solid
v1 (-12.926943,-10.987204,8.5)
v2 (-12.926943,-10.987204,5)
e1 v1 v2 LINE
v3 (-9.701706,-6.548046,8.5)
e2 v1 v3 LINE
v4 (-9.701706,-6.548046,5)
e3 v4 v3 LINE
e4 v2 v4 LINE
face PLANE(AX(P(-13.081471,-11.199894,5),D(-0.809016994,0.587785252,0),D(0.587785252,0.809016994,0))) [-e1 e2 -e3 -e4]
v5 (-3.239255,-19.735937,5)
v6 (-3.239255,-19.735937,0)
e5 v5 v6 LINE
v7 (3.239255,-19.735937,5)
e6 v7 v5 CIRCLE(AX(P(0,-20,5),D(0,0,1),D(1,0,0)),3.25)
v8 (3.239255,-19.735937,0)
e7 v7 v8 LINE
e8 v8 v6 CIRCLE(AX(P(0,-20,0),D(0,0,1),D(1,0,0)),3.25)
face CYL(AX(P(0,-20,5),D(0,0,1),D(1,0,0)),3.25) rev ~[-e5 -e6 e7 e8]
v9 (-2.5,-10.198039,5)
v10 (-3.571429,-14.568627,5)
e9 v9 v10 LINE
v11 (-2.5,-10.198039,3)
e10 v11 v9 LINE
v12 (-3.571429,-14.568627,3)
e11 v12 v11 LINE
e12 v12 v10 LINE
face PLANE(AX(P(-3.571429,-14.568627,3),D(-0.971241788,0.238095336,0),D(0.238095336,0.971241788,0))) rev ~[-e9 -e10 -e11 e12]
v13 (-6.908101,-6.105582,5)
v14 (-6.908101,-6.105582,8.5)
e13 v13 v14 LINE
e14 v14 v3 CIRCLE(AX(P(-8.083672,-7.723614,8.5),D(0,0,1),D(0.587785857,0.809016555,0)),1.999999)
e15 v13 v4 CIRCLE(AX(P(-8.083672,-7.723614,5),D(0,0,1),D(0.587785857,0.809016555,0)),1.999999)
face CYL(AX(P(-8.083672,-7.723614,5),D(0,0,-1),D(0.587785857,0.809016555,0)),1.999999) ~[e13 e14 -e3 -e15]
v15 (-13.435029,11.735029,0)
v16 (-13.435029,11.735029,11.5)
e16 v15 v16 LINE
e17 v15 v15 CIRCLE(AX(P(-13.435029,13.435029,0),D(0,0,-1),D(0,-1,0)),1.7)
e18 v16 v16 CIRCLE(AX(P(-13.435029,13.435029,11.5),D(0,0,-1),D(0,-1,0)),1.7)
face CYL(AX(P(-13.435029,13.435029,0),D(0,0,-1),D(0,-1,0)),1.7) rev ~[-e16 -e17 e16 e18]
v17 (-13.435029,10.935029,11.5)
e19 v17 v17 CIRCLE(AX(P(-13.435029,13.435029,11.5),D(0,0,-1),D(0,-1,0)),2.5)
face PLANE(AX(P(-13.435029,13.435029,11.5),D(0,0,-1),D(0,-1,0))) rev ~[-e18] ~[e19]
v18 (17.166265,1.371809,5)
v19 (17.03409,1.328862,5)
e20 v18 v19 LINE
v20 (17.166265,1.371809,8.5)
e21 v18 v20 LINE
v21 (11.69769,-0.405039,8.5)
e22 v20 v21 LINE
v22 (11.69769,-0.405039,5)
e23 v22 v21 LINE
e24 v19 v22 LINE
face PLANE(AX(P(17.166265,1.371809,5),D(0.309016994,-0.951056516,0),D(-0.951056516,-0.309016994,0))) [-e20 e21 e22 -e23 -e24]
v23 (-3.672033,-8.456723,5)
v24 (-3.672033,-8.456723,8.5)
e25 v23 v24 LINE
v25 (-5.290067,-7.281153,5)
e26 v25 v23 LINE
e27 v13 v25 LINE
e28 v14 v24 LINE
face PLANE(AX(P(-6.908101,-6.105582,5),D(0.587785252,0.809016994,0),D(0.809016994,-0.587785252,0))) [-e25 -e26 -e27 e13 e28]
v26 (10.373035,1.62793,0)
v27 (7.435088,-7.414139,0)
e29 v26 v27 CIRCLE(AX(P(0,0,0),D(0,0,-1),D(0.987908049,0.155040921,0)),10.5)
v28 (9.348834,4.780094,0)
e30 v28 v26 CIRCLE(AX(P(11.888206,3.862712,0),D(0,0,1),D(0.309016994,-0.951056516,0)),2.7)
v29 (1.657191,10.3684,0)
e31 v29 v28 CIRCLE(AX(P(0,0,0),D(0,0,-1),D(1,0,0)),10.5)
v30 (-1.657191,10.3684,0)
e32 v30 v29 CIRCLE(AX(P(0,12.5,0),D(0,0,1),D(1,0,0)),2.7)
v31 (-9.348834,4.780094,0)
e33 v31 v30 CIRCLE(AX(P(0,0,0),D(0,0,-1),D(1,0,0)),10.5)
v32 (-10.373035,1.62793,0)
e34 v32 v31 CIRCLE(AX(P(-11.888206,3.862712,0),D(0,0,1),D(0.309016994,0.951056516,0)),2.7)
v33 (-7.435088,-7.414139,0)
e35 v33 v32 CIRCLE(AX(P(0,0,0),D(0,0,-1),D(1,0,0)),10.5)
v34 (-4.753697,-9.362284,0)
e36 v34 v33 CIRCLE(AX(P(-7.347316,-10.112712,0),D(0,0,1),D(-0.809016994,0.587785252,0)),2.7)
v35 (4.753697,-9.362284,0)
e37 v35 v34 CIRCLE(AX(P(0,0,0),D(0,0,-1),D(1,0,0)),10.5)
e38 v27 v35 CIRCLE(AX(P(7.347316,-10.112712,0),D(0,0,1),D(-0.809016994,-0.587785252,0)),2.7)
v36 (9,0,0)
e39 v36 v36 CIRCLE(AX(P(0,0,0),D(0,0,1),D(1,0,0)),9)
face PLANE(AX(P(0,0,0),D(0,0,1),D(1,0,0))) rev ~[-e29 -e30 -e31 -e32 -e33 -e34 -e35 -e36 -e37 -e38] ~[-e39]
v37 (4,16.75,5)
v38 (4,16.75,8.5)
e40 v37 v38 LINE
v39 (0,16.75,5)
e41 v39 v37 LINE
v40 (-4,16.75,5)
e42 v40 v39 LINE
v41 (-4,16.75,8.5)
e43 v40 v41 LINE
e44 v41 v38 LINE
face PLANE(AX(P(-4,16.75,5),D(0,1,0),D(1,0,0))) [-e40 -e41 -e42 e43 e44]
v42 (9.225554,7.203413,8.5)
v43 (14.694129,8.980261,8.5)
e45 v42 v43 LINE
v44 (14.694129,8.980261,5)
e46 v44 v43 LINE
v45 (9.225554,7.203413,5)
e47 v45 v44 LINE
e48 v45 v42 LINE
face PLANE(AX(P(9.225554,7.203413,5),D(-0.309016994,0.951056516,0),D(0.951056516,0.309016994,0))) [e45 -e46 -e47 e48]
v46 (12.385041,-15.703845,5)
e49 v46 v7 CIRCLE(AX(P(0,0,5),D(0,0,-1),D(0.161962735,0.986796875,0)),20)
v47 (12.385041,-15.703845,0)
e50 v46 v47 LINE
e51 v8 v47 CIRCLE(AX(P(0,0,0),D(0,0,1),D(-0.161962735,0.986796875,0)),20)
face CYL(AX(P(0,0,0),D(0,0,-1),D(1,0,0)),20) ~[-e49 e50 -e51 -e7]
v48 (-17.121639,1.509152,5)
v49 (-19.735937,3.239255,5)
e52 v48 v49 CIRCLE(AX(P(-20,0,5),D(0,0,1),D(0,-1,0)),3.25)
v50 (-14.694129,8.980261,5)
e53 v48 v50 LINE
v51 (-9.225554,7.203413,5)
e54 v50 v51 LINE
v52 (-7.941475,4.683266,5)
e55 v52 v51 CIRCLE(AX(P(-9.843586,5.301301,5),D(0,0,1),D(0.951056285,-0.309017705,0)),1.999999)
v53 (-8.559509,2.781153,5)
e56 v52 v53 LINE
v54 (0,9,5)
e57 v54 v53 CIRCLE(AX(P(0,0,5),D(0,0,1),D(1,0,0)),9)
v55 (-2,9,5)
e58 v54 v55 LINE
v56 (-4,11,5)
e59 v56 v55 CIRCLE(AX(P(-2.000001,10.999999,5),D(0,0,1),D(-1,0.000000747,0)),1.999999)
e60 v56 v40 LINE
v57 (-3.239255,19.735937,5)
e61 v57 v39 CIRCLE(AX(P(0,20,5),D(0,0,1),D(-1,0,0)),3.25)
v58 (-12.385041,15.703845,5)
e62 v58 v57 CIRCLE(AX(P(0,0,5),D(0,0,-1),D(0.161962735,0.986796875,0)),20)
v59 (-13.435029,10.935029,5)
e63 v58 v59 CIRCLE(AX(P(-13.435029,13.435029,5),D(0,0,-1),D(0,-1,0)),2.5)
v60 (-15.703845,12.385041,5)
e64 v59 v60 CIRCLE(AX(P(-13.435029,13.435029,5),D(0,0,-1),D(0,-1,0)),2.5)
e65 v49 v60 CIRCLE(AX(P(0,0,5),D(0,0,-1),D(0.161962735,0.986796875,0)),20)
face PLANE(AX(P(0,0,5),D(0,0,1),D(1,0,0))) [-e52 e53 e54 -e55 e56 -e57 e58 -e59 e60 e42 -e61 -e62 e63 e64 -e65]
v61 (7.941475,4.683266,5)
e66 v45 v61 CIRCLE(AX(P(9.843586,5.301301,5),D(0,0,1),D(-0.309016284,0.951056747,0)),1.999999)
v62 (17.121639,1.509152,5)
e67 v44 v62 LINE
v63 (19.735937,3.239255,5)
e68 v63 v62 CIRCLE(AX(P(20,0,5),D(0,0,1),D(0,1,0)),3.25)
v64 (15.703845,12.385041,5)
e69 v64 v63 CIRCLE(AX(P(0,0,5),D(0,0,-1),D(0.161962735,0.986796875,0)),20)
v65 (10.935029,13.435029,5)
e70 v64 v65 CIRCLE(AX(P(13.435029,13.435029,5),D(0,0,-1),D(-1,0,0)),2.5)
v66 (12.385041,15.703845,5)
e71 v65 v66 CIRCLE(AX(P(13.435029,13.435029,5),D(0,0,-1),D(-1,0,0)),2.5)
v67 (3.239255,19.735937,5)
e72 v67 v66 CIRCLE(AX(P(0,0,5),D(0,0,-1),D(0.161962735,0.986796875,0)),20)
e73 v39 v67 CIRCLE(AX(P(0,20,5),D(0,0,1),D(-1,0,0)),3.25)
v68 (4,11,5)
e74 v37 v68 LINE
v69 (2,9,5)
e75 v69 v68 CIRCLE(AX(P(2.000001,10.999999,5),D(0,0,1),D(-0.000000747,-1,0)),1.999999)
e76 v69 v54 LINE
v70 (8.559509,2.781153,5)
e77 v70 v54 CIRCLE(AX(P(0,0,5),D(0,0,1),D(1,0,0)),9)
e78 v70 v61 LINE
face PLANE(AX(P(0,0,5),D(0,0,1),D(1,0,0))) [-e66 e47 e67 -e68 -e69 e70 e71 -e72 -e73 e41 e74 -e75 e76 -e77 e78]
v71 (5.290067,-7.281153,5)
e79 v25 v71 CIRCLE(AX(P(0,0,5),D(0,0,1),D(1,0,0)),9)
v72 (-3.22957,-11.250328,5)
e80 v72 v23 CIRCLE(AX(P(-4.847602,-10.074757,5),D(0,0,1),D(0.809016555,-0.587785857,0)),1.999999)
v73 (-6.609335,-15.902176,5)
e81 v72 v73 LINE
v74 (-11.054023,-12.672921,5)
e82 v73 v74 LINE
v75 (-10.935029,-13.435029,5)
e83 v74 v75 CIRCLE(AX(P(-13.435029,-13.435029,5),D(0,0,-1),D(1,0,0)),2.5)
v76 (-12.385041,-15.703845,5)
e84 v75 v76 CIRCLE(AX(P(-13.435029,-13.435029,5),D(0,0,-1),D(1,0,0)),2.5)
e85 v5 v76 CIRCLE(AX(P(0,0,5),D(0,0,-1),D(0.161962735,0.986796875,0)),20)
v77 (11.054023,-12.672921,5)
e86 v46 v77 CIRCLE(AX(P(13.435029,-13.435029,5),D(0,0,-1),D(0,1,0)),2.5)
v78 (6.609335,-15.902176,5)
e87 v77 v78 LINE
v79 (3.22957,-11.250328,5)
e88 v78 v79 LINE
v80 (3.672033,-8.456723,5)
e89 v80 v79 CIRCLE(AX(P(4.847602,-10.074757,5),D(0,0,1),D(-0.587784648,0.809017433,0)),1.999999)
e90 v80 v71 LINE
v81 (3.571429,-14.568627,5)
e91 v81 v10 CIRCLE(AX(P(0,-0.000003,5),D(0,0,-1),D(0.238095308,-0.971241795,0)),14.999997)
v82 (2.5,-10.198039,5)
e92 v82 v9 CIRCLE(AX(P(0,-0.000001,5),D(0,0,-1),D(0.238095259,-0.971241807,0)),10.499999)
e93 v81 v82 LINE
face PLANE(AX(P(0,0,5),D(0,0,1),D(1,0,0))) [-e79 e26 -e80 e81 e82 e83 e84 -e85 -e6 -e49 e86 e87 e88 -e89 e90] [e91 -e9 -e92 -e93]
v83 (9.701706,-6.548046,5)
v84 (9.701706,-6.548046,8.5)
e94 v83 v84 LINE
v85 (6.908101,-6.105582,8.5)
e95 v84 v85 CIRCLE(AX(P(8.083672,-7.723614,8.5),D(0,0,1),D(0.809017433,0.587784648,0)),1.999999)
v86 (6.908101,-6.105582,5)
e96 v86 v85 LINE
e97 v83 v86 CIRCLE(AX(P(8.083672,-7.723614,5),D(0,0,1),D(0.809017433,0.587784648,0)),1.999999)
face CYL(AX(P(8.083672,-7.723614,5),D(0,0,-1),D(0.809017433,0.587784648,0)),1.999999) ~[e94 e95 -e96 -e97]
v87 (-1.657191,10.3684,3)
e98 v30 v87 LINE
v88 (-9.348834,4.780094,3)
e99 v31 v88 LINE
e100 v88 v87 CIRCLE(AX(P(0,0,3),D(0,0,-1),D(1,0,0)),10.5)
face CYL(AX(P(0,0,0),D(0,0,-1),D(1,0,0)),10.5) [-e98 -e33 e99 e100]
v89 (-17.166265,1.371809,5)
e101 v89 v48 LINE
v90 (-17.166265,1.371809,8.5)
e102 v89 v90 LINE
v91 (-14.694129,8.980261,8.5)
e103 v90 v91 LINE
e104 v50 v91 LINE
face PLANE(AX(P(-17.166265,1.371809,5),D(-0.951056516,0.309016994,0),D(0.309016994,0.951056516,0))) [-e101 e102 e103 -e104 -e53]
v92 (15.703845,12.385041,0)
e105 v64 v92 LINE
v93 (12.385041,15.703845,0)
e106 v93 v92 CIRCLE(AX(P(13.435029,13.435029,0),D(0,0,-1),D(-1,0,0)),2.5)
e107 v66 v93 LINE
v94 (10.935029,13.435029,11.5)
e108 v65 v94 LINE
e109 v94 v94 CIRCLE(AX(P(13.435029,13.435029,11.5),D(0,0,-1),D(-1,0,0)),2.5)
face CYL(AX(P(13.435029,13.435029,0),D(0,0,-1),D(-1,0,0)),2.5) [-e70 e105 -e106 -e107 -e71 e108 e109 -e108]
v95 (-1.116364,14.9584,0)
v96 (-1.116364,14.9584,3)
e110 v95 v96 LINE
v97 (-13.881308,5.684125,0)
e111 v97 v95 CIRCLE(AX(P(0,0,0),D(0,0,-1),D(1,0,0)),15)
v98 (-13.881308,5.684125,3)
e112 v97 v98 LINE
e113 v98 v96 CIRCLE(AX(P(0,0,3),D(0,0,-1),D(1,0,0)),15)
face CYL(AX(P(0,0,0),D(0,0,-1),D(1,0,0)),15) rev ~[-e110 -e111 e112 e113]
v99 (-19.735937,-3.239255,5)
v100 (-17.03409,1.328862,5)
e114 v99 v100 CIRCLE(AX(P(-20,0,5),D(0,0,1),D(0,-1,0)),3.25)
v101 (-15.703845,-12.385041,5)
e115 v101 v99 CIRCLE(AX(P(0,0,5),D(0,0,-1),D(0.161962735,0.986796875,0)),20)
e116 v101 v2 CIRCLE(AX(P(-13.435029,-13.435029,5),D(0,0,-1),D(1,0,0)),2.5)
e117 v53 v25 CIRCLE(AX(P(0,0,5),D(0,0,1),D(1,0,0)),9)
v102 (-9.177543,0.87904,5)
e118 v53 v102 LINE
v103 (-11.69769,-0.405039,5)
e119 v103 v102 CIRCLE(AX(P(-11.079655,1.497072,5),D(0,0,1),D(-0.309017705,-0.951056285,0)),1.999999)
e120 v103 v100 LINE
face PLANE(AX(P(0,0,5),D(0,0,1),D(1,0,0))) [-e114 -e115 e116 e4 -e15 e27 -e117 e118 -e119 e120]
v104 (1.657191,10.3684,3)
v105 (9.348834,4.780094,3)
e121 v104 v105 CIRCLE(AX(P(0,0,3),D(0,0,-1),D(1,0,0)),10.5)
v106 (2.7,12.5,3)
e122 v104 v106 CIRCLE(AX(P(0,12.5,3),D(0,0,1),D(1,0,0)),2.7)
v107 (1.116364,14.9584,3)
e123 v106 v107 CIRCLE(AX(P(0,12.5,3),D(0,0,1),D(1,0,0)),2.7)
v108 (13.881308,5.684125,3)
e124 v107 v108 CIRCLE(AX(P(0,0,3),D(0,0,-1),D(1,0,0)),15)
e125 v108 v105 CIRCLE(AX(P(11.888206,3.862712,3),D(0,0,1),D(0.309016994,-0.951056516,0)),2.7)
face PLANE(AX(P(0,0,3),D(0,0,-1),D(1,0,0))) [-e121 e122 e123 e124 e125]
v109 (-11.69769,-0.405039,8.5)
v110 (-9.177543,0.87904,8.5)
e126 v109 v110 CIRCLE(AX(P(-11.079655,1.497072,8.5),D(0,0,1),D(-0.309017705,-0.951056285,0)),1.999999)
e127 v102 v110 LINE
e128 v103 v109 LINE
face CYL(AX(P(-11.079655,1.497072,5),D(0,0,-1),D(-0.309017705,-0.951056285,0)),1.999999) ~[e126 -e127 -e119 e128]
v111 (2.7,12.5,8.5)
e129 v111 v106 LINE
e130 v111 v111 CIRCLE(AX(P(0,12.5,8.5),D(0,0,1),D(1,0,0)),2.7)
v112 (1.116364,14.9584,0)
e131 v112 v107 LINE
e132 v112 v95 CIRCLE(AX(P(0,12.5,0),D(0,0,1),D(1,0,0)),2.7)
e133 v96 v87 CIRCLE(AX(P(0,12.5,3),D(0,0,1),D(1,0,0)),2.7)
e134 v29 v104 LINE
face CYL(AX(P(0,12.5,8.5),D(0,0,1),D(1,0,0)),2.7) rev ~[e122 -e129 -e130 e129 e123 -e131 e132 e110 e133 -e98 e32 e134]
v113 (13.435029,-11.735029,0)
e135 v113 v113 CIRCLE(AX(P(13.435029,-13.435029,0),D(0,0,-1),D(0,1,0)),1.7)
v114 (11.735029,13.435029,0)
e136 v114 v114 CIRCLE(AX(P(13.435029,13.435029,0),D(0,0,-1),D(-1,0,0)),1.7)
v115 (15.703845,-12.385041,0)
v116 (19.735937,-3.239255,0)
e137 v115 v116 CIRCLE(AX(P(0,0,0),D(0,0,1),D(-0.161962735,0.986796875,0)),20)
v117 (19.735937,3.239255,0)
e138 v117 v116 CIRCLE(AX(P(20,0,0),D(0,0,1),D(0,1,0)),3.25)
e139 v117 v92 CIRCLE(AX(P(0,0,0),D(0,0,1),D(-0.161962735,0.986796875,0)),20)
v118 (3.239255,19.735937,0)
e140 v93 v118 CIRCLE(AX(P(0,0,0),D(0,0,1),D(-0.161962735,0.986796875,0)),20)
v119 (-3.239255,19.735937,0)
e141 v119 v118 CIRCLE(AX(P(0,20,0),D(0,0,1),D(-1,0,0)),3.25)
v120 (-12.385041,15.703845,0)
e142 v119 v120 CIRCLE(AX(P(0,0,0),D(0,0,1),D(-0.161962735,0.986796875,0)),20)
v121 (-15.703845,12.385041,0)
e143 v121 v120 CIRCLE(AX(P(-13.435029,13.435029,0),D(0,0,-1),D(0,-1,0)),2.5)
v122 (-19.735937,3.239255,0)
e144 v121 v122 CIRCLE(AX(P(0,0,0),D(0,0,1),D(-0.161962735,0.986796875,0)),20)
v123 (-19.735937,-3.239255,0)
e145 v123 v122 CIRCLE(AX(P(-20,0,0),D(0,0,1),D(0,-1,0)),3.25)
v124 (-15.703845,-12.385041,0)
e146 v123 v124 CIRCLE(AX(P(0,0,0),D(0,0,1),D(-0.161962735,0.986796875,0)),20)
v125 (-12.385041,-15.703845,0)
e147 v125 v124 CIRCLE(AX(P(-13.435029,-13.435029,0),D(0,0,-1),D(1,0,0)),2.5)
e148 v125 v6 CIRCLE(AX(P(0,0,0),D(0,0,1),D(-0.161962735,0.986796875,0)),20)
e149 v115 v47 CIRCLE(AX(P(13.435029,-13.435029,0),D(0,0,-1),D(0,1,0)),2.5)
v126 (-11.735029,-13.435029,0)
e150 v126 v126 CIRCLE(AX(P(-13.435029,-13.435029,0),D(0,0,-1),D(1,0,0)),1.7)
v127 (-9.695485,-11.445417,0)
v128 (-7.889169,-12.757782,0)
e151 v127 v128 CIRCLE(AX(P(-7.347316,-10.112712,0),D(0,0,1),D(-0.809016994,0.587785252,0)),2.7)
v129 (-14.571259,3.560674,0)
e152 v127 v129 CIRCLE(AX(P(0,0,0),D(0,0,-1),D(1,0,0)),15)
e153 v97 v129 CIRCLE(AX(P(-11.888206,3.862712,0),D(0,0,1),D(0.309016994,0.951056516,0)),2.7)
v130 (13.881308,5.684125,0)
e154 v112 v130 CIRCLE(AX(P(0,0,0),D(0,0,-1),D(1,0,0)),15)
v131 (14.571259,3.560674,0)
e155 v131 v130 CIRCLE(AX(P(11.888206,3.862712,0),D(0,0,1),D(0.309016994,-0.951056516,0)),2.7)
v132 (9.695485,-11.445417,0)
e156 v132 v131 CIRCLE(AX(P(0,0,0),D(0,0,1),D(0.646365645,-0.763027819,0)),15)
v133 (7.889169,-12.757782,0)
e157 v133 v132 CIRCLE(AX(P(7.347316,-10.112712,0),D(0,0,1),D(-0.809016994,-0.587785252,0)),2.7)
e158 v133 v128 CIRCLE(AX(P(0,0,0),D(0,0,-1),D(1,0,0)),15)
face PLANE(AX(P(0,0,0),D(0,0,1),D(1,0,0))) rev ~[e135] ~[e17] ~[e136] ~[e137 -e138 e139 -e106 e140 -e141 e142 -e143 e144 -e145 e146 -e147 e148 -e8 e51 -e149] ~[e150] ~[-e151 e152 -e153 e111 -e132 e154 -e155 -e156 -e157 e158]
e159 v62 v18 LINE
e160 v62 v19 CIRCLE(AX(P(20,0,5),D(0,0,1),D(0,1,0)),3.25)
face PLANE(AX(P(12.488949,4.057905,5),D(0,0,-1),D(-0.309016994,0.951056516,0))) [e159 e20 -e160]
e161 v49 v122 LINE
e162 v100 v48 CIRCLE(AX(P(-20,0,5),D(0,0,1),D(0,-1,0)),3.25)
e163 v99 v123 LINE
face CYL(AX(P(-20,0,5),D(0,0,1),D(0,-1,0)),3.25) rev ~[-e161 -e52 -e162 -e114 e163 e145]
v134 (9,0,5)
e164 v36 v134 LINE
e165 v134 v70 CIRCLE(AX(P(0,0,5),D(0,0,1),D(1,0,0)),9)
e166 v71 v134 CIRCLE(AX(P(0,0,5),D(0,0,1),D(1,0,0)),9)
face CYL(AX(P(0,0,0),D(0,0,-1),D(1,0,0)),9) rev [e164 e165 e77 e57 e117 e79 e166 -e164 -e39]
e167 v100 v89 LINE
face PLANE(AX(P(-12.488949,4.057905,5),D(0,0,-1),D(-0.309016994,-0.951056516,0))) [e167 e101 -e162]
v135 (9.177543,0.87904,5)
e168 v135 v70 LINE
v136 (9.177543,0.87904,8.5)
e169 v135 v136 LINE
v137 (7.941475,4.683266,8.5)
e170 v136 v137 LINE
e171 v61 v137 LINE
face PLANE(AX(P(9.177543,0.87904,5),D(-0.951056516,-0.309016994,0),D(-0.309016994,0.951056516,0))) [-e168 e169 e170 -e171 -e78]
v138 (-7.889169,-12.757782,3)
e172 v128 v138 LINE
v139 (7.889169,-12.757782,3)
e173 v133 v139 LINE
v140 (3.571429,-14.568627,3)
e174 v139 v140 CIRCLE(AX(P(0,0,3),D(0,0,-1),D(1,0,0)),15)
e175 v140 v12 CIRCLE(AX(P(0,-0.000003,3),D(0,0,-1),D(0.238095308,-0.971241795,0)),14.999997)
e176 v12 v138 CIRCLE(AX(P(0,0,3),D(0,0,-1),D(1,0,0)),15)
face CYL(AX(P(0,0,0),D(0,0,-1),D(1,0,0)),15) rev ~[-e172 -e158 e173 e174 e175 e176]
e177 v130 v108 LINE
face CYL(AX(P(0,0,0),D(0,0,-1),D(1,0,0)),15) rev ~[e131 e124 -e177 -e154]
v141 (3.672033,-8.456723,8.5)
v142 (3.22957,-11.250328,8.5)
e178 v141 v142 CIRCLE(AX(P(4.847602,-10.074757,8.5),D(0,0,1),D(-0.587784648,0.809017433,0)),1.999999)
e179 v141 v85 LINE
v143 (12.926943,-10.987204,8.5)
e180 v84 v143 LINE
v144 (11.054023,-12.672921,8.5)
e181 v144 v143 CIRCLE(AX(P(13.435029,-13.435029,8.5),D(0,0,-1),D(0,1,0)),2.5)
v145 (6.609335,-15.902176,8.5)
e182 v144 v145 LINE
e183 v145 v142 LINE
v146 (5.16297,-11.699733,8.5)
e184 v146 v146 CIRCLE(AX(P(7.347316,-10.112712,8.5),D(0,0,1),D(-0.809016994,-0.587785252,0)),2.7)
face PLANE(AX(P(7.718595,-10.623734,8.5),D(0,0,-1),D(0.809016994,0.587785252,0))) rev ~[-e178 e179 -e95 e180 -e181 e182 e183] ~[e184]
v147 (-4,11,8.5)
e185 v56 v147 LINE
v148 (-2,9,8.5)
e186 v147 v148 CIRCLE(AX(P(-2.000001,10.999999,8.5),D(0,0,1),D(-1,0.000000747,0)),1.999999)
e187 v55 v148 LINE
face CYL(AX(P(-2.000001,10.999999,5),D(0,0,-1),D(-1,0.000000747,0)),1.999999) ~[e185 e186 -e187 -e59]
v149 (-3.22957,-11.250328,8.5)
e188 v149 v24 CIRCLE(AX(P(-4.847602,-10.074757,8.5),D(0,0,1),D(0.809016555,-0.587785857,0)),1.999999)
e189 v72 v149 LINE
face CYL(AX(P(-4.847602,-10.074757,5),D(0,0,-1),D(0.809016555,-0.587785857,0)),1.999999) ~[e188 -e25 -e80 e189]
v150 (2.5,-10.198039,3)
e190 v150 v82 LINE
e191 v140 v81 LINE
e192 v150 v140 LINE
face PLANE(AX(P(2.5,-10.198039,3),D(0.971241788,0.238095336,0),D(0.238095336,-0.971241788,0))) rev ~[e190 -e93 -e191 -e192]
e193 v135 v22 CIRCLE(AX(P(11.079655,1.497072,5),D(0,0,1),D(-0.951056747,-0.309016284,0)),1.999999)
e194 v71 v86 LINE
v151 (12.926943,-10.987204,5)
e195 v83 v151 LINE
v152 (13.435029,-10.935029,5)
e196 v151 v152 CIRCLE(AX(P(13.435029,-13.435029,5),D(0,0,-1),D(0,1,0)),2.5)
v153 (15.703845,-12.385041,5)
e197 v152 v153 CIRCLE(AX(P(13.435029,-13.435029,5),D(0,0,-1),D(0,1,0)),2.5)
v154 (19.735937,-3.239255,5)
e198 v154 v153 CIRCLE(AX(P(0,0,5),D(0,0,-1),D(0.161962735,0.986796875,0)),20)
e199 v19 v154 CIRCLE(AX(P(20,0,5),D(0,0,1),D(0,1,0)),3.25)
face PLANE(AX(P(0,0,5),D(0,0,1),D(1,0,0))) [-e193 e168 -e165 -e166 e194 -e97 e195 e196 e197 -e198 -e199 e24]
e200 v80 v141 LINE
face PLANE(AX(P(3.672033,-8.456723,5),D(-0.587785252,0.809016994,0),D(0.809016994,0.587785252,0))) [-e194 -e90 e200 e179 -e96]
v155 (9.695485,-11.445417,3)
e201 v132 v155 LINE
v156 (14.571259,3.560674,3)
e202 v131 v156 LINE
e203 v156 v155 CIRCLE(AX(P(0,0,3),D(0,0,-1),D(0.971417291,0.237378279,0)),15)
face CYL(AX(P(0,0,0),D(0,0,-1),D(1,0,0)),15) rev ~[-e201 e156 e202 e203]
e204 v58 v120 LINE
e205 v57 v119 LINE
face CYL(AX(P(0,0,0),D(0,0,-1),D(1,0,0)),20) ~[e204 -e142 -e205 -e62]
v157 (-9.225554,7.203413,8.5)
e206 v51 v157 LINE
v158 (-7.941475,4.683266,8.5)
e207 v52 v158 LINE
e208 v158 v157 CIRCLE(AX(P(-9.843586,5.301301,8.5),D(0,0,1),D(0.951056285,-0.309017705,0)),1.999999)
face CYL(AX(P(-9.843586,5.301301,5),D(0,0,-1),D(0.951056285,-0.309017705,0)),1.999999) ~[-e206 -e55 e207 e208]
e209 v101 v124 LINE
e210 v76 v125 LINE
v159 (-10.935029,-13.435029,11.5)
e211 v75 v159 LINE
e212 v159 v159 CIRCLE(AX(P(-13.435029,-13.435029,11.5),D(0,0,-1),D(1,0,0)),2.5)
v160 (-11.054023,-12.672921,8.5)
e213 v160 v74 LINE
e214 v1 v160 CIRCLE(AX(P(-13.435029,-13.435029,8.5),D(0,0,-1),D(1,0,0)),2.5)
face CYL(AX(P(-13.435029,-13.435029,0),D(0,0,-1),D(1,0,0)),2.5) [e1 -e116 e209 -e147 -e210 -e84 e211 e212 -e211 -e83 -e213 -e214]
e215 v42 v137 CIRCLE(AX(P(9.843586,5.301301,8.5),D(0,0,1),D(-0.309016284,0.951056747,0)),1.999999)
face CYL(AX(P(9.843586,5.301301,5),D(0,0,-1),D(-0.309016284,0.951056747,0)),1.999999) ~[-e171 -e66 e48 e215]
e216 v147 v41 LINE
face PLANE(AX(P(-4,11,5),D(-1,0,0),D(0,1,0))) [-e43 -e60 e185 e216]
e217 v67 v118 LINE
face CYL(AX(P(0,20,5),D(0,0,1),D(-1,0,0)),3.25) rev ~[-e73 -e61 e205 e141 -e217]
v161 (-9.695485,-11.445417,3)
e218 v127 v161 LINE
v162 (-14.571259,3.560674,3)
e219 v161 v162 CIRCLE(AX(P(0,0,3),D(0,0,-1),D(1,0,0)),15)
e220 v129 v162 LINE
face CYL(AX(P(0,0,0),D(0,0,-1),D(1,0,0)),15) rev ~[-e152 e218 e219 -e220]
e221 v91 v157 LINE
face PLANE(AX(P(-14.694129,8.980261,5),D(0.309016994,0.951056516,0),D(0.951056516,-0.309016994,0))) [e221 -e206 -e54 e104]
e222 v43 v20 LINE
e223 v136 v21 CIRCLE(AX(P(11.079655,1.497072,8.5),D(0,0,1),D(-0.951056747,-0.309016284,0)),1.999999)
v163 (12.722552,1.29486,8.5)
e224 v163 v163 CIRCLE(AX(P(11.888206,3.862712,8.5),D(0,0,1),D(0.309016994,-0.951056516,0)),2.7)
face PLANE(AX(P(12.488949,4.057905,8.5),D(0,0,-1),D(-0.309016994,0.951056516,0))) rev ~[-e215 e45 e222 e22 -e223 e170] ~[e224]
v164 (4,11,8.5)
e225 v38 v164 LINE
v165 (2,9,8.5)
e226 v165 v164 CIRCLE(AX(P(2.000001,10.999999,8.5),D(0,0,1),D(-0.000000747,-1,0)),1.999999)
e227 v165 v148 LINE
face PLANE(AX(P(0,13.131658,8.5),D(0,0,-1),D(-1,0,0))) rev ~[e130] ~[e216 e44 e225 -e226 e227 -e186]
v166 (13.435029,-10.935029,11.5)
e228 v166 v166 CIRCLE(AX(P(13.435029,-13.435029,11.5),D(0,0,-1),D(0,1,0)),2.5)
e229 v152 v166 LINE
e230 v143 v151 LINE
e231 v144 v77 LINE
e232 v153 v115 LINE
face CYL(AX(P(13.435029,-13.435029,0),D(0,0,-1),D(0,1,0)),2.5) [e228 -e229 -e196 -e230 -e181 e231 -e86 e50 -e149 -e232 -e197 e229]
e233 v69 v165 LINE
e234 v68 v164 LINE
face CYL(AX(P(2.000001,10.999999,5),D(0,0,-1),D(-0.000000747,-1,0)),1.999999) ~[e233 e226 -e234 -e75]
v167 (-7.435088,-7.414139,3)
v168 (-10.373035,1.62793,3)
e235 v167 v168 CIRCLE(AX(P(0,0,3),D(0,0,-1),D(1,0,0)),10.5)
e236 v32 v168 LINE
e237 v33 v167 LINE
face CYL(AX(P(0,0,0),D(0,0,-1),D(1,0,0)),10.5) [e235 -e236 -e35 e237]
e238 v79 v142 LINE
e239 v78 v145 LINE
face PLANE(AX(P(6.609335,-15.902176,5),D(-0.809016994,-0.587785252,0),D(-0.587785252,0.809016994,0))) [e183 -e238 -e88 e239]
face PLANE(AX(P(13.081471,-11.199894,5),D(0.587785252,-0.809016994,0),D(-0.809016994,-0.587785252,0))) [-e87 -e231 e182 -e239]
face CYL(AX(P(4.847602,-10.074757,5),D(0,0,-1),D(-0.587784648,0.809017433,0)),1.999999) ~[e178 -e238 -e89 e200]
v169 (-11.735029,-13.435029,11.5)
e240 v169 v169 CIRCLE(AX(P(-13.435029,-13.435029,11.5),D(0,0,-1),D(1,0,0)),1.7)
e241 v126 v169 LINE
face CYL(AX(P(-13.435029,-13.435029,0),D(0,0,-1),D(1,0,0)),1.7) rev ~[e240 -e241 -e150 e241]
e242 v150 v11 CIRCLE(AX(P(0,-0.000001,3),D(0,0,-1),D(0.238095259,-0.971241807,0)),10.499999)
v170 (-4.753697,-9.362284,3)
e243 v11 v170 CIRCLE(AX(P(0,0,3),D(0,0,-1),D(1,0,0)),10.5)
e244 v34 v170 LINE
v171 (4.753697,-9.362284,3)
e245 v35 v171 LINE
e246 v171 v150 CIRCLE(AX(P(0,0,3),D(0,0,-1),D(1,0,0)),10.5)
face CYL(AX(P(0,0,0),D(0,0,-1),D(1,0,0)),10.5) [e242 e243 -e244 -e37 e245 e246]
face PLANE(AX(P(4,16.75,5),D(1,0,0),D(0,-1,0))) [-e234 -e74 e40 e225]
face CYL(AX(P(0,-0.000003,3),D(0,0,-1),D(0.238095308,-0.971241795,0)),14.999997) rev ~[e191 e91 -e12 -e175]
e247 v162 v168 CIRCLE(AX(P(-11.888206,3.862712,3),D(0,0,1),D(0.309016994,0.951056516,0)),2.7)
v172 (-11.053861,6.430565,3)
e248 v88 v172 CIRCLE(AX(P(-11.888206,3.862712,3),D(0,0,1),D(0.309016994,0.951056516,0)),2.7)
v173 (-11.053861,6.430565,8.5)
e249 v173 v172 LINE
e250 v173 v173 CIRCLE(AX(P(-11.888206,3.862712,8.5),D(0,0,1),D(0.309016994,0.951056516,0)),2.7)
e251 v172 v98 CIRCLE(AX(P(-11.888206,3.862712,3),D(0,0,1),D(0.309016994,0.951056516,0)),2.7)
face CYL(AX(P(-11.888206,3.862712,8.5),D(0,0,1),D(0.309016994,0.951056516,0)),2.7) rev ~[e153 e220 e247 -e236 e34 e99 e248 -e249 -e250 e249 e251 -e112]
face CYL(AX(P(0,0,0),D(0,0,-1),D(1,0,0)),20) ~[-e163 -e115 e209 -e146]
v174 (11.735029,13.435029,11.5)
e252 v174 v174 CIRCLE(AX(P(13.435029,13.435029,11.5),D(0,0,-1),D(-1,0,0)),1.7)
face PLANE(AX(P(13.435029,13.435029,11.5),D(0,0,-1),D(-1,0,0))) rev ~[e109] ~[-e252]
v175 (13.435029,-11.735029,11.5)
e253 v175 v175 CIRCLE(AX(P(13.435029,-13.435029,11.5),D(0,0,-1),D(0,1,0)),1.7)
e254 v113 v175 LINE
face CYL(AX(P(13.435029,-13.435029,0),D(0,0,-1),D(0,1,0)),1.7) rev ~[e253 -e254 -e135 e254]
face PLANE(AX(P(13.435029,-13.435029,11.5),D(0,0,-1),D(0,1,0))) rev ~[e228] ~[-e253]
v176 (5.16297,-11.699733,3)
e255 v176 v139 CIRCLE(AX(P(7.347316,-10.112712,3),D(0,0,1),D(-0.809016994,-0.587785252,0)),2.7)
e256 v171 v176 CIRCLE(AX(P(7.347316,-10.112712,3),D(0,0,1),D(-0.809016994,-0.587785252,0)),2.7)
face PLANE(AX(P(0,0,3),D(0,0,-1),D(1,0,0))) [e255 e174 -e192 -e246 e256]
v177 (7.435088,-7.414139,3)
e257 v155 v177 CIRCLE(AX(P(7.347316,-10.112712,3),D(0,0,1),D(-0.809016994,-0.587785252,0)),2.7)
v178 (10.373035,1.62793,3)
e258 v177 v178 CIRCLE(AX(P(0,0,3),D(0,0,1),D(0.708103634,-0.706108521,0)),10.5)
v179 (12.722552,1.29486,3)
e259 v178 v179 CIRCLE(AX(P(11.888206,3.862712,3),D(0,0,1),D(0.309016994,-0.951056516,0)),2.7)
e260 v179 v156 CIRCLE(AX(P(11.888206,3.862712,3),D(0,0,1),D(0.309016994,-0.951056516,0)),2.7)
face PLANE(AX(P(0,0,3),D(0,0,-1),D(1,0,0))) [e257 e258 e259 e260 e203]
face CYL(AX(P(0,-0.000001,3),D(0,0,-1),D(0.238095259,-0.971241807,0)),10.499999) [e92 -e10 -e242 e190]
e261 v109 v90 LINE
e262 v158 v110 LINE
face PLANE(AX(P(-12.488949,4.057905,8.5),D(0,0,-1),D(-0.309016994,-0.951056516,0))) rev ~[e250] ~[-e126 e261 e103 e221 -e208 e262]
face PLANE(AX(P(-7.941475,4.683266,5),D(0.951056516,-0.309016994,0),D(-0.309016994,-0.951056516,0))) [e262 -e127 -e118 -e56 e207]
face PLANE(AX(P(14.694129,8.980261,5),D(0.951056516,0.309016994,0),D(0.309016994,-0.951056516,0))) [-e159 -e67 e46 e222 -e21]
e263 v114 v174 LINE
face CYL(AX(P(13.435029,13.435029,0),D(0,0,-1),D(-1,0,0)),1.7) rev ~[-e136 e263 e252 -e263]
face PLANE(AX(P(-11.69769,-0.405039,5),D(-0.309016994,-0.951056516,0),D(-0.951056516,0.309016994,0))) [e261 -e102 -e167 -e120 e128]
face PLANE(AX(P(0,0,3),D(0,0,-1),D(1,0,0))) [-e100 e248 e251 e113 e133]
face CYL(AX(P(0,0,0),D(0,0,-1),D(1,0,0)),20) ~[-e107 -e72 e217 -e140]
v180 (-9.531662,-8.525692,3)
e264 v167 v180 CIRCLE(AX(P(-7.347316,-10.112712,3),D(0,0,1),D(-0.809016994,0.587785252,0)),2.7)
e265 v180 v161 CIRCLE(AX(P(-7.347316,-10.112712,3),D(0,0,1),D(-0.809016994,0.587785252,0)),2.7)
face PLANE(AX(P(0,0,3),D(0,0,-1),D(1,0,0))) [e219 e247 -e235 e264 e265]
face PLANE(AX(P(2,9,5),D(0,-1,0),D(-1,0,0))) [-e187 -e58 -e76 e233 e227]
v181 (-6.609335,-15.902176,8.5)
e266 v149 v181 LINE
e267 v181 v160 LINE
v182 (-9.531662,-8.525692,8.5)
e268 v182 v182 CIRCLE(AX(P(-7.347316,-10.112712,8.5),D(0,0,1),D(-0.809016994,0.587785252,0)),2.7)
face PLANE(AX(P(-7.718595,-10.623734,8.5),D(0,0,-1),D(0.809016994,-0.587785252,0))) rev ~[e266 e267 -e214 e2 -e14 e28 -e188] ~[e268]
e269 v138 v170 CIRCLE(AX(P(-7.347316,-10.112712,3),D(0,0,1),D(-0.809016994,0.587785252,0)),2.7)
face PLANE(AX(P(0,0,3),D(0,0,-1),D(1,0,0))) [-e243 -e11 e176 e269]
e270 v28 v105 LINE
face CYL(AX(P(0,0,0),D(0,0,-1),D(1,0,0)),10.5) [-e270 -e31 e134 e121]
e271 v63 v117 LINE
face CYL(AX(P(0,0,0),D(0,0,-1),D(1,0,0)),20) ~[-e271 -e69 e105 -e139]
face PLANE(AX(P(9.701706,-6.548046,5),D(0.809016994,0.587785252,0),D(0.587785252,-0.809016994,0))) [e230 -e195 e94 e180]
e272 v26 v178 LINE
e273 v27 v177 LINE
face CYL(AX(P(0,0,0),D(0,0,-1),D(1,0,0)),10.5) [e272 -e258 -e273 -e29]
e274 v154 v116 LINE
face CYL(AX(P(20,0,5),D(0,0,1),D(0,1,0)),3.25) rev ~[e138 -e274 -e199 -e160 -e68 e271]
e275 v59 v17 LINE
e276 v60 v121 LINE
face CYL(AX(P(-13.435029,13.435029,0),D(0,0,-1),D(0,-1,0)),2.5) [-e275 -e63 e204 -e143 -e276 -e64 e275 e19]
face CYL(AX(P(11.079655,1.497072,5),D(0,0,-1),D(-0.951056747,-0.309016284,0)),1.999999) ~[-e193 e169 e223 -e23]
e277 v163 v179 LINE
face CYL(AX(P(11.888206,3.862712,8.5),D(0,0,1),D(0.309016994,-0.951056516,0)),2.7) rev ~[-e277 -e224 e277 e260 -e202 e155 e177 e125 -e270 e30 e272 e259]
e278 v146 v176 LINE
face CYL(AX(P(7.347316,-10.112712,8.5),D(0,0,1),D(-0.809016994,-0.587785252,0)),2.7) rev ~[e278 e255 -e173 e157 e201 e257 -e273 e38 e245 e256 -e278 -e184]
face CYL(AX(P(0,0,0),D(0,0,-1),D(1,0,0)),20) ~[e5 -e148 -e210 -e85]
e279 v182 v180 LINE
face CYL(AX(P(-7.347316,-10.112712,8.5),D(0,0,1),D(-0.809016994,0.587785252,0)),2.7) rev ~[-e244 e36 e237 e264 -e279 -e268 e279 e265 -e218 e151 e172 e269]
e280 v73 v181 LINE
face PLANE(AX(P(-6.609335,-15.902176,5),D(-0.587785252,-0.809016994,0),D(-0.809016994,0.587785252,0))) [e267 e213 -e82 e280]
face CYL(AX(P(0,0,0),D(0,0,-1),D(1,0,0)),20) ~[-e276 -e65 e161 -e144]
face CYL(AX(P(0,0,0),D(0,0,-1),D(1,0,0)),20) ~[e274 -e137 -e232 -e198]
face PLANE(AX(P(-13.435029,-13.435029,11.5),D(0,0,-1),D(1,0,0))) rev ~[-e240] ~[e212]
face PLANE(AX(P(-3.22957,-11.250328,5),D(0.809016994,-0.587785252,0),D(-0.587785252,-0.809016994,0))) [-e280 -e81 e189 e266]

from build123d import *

# Parameters (mm, degrees)
SKETCH_R              = 20
SKETCH_R_2            = 9
PAD_DEPTH             = 5
POCKET_DEPTH          = 5
POLARPATTERN_COUNT    = 4
PAD001_DEPTH          = 3.5
POLARPATTERN001_COUNT = 5
SKETCH003_R           = 2.7
POCKET001_DEPTH       = 121.431206
POLARPATTERN002_COUNT = 5
SKETCH004_R           = 15
SKETCH004_R_2         = 10.5
POCKET002_DEPTH       = 3
POCKET003_DEPTH       = 5.501
SKETCH006_R           = 2.5
PAD002_DEPTH          = 11.5
POLARPATTERN003_COUNT = 4
SKETCH007_R           = 1.7
POCKET004_DEPTH       = 125.488856
POLARPATTERN004_COUNT = 4


with BuildPart() as part:
    # Sketch → Pad (new body)
    with BuildSketch(Plane.XY):
        Circle(SKETCH_R)
        Circle(SKETCH_R_2, mode=Mode.SUBTRACT)
    extrude(amount=PAD_DEPTH)

    # Sketch001 → Pocket (cut)
    with BuildSketch(Plane.XY.offset(5)):
        with BuildLine():
            Line((3.25, 20), (-3.25, 20))
            ThreePointArc((-3.25, 20), (0, 16.75), (3.25, 20))
        make_face()
    pocket = extrude(amount=-POCKET_DEPTH, mode=Mode.SUBTRACT)

    # PolarPattern: Pocket ×4 about axis
    polarpattern_axis = Axis((0, 0, 5), (0, 0, 1))
    for i in range(1, POLARPATTERN_COUNT):
        add(pocket.rotate(polarpattern_axis, i * 360 / POLARPATTERN_COUNT), mode=Mode.SUBTRACT)

    # Sketch002 → Pad001 (new body)
    with BuildSketch(Plane.XY.offset(5)):
        with BuildLine():
            Line((-4, 16.75), (4, 16.75))
            Line((4, 16.75), (4, 11))
            ThreePointArc((2, 9), (3.414214, 9.585786), (4, 11))
            Line((2, 9), (-2, 9))
            ThreePointArc((-4, 11), (-3.414214, 9.585786), (-2, 9))
            Line((-4, 11), (-4, 16.75))
        make_face()
    pad001 = extrude(amount=PAD001_DEPTH)

    # PolarPattern001: Pad001 ×5 about axis
    polarpattern001_axis = Axis((0, 0, 5), (0, 0, 1))
    for i in range(1, POLARPATTERN001_COUNT):
        add(pad001.rotate(polarpattern001_axis, i * 360 / POLARPATTERN001_COUNT))

    # Sketch003 → Pocket001 (cut, through all)
    with BuildSketch(Plane.XY.offset(8.5)):
        with Locations((0, 12.5)):
            Circle(SKETCH003_R)
    pocket001 = extrude(amount=-POCKET001_DEPTH, mode=Mode.SUBTRACT)

    # PolarPattern002: Pocket001 ×5 about axis
    polarpattern002_axis = Axis((0, 0, 8.5), (0, 0, 1))
    for i in range(1, POLARPATTERN002_COUNT):
        add(pocket001.rotate(polarpattern002_axis, i * 360 / POLARPATTERN002_COUNT), mode=Mode.SUBTRACT)

    # Sketch004 → Pocket002 (cut)
    with BuildSketch(Plane(origin=(0, 0, 0), x_dir=(1, 0, 0), z_dir=(0, 0, -1))):
        Circle(SKETCH004_R)
        Circle(SKETCH004_R_2, mode=Mode.SUBTRACT)
    extrude(amount=-POCKET002_DEPTH, mode=Mode.SUBTRACT)

    # Sketch005 → Pocket003 (cut, through all)
    with BuildSketch(Plane(origin=(0, 0, 3), x_dir=(1, 0, 0), z_dir=(0, 0, -1))):
        with BuildLine():
            ThreePointArc((2.5, 10.198039), (0, 10.5), (-2.5, 10.198039))
            Line((-3.571429, 14.568627), (-2.5, 10.198039))
            ThreePointArc((3.571429, 14.568627), (0, 15), (-3.571429, 14.568627))
            Line((2.5, 10.198039), (3.571429, 14.568627))
        make_face()
    extrude(amount=-POCKET003_DEPTH, mode=Mode.SUBTRACT)

    # Sketch006 → Pad002 (new body)
    with BuildSketch(Plane(origin=(0, 0, 0), x_dir=(1, 0, 0), z_dir=(0, 0, -1))):
        with Locations((-13.435029, 13.435029)):
            Circle(SKETCH006_R)
    pad002 = extrude(amount=-PAD002_DEPTH)

    # PolarPattern003: Pad002 ×4 about axis
    polarpattern003_axis = Axis((0, 0, 0), (0, 0, -1))
    for i in range(1, POLARPATTERN003_COUNT):
        add(pad002.rotate(polarpattern003_axis, i * 360 / POLARPATTERN003_COUNT))

    # Sketch007 → Pocket004 (cut, through all)
    with BuildSketch(Plane(origin=(0, 0, 0), x_dir=(1, 0, 0), z_dir=(0, 0, -1))):
        with Locations((-13.435029, 13.435029)):
            Circle(SKETCH007_R)
    pocket004 = extrude(amount=-POCKET004_DEPTH, mode=Mode.SUBTRACT)

    # PolarPattern004: Pocket004 ×4 about axis
    polarpattern004_axis = Axis((0, 0, 0), (0, 0, -1))
    for i in range(1, POLARPATTERN004_COUNT):
        add(pocket004.rotate(polarpattern004_axis, i * 360 / POLARPATTERN004_COUNT), mode=Mode.SUBTRACT)


solid = part.part
